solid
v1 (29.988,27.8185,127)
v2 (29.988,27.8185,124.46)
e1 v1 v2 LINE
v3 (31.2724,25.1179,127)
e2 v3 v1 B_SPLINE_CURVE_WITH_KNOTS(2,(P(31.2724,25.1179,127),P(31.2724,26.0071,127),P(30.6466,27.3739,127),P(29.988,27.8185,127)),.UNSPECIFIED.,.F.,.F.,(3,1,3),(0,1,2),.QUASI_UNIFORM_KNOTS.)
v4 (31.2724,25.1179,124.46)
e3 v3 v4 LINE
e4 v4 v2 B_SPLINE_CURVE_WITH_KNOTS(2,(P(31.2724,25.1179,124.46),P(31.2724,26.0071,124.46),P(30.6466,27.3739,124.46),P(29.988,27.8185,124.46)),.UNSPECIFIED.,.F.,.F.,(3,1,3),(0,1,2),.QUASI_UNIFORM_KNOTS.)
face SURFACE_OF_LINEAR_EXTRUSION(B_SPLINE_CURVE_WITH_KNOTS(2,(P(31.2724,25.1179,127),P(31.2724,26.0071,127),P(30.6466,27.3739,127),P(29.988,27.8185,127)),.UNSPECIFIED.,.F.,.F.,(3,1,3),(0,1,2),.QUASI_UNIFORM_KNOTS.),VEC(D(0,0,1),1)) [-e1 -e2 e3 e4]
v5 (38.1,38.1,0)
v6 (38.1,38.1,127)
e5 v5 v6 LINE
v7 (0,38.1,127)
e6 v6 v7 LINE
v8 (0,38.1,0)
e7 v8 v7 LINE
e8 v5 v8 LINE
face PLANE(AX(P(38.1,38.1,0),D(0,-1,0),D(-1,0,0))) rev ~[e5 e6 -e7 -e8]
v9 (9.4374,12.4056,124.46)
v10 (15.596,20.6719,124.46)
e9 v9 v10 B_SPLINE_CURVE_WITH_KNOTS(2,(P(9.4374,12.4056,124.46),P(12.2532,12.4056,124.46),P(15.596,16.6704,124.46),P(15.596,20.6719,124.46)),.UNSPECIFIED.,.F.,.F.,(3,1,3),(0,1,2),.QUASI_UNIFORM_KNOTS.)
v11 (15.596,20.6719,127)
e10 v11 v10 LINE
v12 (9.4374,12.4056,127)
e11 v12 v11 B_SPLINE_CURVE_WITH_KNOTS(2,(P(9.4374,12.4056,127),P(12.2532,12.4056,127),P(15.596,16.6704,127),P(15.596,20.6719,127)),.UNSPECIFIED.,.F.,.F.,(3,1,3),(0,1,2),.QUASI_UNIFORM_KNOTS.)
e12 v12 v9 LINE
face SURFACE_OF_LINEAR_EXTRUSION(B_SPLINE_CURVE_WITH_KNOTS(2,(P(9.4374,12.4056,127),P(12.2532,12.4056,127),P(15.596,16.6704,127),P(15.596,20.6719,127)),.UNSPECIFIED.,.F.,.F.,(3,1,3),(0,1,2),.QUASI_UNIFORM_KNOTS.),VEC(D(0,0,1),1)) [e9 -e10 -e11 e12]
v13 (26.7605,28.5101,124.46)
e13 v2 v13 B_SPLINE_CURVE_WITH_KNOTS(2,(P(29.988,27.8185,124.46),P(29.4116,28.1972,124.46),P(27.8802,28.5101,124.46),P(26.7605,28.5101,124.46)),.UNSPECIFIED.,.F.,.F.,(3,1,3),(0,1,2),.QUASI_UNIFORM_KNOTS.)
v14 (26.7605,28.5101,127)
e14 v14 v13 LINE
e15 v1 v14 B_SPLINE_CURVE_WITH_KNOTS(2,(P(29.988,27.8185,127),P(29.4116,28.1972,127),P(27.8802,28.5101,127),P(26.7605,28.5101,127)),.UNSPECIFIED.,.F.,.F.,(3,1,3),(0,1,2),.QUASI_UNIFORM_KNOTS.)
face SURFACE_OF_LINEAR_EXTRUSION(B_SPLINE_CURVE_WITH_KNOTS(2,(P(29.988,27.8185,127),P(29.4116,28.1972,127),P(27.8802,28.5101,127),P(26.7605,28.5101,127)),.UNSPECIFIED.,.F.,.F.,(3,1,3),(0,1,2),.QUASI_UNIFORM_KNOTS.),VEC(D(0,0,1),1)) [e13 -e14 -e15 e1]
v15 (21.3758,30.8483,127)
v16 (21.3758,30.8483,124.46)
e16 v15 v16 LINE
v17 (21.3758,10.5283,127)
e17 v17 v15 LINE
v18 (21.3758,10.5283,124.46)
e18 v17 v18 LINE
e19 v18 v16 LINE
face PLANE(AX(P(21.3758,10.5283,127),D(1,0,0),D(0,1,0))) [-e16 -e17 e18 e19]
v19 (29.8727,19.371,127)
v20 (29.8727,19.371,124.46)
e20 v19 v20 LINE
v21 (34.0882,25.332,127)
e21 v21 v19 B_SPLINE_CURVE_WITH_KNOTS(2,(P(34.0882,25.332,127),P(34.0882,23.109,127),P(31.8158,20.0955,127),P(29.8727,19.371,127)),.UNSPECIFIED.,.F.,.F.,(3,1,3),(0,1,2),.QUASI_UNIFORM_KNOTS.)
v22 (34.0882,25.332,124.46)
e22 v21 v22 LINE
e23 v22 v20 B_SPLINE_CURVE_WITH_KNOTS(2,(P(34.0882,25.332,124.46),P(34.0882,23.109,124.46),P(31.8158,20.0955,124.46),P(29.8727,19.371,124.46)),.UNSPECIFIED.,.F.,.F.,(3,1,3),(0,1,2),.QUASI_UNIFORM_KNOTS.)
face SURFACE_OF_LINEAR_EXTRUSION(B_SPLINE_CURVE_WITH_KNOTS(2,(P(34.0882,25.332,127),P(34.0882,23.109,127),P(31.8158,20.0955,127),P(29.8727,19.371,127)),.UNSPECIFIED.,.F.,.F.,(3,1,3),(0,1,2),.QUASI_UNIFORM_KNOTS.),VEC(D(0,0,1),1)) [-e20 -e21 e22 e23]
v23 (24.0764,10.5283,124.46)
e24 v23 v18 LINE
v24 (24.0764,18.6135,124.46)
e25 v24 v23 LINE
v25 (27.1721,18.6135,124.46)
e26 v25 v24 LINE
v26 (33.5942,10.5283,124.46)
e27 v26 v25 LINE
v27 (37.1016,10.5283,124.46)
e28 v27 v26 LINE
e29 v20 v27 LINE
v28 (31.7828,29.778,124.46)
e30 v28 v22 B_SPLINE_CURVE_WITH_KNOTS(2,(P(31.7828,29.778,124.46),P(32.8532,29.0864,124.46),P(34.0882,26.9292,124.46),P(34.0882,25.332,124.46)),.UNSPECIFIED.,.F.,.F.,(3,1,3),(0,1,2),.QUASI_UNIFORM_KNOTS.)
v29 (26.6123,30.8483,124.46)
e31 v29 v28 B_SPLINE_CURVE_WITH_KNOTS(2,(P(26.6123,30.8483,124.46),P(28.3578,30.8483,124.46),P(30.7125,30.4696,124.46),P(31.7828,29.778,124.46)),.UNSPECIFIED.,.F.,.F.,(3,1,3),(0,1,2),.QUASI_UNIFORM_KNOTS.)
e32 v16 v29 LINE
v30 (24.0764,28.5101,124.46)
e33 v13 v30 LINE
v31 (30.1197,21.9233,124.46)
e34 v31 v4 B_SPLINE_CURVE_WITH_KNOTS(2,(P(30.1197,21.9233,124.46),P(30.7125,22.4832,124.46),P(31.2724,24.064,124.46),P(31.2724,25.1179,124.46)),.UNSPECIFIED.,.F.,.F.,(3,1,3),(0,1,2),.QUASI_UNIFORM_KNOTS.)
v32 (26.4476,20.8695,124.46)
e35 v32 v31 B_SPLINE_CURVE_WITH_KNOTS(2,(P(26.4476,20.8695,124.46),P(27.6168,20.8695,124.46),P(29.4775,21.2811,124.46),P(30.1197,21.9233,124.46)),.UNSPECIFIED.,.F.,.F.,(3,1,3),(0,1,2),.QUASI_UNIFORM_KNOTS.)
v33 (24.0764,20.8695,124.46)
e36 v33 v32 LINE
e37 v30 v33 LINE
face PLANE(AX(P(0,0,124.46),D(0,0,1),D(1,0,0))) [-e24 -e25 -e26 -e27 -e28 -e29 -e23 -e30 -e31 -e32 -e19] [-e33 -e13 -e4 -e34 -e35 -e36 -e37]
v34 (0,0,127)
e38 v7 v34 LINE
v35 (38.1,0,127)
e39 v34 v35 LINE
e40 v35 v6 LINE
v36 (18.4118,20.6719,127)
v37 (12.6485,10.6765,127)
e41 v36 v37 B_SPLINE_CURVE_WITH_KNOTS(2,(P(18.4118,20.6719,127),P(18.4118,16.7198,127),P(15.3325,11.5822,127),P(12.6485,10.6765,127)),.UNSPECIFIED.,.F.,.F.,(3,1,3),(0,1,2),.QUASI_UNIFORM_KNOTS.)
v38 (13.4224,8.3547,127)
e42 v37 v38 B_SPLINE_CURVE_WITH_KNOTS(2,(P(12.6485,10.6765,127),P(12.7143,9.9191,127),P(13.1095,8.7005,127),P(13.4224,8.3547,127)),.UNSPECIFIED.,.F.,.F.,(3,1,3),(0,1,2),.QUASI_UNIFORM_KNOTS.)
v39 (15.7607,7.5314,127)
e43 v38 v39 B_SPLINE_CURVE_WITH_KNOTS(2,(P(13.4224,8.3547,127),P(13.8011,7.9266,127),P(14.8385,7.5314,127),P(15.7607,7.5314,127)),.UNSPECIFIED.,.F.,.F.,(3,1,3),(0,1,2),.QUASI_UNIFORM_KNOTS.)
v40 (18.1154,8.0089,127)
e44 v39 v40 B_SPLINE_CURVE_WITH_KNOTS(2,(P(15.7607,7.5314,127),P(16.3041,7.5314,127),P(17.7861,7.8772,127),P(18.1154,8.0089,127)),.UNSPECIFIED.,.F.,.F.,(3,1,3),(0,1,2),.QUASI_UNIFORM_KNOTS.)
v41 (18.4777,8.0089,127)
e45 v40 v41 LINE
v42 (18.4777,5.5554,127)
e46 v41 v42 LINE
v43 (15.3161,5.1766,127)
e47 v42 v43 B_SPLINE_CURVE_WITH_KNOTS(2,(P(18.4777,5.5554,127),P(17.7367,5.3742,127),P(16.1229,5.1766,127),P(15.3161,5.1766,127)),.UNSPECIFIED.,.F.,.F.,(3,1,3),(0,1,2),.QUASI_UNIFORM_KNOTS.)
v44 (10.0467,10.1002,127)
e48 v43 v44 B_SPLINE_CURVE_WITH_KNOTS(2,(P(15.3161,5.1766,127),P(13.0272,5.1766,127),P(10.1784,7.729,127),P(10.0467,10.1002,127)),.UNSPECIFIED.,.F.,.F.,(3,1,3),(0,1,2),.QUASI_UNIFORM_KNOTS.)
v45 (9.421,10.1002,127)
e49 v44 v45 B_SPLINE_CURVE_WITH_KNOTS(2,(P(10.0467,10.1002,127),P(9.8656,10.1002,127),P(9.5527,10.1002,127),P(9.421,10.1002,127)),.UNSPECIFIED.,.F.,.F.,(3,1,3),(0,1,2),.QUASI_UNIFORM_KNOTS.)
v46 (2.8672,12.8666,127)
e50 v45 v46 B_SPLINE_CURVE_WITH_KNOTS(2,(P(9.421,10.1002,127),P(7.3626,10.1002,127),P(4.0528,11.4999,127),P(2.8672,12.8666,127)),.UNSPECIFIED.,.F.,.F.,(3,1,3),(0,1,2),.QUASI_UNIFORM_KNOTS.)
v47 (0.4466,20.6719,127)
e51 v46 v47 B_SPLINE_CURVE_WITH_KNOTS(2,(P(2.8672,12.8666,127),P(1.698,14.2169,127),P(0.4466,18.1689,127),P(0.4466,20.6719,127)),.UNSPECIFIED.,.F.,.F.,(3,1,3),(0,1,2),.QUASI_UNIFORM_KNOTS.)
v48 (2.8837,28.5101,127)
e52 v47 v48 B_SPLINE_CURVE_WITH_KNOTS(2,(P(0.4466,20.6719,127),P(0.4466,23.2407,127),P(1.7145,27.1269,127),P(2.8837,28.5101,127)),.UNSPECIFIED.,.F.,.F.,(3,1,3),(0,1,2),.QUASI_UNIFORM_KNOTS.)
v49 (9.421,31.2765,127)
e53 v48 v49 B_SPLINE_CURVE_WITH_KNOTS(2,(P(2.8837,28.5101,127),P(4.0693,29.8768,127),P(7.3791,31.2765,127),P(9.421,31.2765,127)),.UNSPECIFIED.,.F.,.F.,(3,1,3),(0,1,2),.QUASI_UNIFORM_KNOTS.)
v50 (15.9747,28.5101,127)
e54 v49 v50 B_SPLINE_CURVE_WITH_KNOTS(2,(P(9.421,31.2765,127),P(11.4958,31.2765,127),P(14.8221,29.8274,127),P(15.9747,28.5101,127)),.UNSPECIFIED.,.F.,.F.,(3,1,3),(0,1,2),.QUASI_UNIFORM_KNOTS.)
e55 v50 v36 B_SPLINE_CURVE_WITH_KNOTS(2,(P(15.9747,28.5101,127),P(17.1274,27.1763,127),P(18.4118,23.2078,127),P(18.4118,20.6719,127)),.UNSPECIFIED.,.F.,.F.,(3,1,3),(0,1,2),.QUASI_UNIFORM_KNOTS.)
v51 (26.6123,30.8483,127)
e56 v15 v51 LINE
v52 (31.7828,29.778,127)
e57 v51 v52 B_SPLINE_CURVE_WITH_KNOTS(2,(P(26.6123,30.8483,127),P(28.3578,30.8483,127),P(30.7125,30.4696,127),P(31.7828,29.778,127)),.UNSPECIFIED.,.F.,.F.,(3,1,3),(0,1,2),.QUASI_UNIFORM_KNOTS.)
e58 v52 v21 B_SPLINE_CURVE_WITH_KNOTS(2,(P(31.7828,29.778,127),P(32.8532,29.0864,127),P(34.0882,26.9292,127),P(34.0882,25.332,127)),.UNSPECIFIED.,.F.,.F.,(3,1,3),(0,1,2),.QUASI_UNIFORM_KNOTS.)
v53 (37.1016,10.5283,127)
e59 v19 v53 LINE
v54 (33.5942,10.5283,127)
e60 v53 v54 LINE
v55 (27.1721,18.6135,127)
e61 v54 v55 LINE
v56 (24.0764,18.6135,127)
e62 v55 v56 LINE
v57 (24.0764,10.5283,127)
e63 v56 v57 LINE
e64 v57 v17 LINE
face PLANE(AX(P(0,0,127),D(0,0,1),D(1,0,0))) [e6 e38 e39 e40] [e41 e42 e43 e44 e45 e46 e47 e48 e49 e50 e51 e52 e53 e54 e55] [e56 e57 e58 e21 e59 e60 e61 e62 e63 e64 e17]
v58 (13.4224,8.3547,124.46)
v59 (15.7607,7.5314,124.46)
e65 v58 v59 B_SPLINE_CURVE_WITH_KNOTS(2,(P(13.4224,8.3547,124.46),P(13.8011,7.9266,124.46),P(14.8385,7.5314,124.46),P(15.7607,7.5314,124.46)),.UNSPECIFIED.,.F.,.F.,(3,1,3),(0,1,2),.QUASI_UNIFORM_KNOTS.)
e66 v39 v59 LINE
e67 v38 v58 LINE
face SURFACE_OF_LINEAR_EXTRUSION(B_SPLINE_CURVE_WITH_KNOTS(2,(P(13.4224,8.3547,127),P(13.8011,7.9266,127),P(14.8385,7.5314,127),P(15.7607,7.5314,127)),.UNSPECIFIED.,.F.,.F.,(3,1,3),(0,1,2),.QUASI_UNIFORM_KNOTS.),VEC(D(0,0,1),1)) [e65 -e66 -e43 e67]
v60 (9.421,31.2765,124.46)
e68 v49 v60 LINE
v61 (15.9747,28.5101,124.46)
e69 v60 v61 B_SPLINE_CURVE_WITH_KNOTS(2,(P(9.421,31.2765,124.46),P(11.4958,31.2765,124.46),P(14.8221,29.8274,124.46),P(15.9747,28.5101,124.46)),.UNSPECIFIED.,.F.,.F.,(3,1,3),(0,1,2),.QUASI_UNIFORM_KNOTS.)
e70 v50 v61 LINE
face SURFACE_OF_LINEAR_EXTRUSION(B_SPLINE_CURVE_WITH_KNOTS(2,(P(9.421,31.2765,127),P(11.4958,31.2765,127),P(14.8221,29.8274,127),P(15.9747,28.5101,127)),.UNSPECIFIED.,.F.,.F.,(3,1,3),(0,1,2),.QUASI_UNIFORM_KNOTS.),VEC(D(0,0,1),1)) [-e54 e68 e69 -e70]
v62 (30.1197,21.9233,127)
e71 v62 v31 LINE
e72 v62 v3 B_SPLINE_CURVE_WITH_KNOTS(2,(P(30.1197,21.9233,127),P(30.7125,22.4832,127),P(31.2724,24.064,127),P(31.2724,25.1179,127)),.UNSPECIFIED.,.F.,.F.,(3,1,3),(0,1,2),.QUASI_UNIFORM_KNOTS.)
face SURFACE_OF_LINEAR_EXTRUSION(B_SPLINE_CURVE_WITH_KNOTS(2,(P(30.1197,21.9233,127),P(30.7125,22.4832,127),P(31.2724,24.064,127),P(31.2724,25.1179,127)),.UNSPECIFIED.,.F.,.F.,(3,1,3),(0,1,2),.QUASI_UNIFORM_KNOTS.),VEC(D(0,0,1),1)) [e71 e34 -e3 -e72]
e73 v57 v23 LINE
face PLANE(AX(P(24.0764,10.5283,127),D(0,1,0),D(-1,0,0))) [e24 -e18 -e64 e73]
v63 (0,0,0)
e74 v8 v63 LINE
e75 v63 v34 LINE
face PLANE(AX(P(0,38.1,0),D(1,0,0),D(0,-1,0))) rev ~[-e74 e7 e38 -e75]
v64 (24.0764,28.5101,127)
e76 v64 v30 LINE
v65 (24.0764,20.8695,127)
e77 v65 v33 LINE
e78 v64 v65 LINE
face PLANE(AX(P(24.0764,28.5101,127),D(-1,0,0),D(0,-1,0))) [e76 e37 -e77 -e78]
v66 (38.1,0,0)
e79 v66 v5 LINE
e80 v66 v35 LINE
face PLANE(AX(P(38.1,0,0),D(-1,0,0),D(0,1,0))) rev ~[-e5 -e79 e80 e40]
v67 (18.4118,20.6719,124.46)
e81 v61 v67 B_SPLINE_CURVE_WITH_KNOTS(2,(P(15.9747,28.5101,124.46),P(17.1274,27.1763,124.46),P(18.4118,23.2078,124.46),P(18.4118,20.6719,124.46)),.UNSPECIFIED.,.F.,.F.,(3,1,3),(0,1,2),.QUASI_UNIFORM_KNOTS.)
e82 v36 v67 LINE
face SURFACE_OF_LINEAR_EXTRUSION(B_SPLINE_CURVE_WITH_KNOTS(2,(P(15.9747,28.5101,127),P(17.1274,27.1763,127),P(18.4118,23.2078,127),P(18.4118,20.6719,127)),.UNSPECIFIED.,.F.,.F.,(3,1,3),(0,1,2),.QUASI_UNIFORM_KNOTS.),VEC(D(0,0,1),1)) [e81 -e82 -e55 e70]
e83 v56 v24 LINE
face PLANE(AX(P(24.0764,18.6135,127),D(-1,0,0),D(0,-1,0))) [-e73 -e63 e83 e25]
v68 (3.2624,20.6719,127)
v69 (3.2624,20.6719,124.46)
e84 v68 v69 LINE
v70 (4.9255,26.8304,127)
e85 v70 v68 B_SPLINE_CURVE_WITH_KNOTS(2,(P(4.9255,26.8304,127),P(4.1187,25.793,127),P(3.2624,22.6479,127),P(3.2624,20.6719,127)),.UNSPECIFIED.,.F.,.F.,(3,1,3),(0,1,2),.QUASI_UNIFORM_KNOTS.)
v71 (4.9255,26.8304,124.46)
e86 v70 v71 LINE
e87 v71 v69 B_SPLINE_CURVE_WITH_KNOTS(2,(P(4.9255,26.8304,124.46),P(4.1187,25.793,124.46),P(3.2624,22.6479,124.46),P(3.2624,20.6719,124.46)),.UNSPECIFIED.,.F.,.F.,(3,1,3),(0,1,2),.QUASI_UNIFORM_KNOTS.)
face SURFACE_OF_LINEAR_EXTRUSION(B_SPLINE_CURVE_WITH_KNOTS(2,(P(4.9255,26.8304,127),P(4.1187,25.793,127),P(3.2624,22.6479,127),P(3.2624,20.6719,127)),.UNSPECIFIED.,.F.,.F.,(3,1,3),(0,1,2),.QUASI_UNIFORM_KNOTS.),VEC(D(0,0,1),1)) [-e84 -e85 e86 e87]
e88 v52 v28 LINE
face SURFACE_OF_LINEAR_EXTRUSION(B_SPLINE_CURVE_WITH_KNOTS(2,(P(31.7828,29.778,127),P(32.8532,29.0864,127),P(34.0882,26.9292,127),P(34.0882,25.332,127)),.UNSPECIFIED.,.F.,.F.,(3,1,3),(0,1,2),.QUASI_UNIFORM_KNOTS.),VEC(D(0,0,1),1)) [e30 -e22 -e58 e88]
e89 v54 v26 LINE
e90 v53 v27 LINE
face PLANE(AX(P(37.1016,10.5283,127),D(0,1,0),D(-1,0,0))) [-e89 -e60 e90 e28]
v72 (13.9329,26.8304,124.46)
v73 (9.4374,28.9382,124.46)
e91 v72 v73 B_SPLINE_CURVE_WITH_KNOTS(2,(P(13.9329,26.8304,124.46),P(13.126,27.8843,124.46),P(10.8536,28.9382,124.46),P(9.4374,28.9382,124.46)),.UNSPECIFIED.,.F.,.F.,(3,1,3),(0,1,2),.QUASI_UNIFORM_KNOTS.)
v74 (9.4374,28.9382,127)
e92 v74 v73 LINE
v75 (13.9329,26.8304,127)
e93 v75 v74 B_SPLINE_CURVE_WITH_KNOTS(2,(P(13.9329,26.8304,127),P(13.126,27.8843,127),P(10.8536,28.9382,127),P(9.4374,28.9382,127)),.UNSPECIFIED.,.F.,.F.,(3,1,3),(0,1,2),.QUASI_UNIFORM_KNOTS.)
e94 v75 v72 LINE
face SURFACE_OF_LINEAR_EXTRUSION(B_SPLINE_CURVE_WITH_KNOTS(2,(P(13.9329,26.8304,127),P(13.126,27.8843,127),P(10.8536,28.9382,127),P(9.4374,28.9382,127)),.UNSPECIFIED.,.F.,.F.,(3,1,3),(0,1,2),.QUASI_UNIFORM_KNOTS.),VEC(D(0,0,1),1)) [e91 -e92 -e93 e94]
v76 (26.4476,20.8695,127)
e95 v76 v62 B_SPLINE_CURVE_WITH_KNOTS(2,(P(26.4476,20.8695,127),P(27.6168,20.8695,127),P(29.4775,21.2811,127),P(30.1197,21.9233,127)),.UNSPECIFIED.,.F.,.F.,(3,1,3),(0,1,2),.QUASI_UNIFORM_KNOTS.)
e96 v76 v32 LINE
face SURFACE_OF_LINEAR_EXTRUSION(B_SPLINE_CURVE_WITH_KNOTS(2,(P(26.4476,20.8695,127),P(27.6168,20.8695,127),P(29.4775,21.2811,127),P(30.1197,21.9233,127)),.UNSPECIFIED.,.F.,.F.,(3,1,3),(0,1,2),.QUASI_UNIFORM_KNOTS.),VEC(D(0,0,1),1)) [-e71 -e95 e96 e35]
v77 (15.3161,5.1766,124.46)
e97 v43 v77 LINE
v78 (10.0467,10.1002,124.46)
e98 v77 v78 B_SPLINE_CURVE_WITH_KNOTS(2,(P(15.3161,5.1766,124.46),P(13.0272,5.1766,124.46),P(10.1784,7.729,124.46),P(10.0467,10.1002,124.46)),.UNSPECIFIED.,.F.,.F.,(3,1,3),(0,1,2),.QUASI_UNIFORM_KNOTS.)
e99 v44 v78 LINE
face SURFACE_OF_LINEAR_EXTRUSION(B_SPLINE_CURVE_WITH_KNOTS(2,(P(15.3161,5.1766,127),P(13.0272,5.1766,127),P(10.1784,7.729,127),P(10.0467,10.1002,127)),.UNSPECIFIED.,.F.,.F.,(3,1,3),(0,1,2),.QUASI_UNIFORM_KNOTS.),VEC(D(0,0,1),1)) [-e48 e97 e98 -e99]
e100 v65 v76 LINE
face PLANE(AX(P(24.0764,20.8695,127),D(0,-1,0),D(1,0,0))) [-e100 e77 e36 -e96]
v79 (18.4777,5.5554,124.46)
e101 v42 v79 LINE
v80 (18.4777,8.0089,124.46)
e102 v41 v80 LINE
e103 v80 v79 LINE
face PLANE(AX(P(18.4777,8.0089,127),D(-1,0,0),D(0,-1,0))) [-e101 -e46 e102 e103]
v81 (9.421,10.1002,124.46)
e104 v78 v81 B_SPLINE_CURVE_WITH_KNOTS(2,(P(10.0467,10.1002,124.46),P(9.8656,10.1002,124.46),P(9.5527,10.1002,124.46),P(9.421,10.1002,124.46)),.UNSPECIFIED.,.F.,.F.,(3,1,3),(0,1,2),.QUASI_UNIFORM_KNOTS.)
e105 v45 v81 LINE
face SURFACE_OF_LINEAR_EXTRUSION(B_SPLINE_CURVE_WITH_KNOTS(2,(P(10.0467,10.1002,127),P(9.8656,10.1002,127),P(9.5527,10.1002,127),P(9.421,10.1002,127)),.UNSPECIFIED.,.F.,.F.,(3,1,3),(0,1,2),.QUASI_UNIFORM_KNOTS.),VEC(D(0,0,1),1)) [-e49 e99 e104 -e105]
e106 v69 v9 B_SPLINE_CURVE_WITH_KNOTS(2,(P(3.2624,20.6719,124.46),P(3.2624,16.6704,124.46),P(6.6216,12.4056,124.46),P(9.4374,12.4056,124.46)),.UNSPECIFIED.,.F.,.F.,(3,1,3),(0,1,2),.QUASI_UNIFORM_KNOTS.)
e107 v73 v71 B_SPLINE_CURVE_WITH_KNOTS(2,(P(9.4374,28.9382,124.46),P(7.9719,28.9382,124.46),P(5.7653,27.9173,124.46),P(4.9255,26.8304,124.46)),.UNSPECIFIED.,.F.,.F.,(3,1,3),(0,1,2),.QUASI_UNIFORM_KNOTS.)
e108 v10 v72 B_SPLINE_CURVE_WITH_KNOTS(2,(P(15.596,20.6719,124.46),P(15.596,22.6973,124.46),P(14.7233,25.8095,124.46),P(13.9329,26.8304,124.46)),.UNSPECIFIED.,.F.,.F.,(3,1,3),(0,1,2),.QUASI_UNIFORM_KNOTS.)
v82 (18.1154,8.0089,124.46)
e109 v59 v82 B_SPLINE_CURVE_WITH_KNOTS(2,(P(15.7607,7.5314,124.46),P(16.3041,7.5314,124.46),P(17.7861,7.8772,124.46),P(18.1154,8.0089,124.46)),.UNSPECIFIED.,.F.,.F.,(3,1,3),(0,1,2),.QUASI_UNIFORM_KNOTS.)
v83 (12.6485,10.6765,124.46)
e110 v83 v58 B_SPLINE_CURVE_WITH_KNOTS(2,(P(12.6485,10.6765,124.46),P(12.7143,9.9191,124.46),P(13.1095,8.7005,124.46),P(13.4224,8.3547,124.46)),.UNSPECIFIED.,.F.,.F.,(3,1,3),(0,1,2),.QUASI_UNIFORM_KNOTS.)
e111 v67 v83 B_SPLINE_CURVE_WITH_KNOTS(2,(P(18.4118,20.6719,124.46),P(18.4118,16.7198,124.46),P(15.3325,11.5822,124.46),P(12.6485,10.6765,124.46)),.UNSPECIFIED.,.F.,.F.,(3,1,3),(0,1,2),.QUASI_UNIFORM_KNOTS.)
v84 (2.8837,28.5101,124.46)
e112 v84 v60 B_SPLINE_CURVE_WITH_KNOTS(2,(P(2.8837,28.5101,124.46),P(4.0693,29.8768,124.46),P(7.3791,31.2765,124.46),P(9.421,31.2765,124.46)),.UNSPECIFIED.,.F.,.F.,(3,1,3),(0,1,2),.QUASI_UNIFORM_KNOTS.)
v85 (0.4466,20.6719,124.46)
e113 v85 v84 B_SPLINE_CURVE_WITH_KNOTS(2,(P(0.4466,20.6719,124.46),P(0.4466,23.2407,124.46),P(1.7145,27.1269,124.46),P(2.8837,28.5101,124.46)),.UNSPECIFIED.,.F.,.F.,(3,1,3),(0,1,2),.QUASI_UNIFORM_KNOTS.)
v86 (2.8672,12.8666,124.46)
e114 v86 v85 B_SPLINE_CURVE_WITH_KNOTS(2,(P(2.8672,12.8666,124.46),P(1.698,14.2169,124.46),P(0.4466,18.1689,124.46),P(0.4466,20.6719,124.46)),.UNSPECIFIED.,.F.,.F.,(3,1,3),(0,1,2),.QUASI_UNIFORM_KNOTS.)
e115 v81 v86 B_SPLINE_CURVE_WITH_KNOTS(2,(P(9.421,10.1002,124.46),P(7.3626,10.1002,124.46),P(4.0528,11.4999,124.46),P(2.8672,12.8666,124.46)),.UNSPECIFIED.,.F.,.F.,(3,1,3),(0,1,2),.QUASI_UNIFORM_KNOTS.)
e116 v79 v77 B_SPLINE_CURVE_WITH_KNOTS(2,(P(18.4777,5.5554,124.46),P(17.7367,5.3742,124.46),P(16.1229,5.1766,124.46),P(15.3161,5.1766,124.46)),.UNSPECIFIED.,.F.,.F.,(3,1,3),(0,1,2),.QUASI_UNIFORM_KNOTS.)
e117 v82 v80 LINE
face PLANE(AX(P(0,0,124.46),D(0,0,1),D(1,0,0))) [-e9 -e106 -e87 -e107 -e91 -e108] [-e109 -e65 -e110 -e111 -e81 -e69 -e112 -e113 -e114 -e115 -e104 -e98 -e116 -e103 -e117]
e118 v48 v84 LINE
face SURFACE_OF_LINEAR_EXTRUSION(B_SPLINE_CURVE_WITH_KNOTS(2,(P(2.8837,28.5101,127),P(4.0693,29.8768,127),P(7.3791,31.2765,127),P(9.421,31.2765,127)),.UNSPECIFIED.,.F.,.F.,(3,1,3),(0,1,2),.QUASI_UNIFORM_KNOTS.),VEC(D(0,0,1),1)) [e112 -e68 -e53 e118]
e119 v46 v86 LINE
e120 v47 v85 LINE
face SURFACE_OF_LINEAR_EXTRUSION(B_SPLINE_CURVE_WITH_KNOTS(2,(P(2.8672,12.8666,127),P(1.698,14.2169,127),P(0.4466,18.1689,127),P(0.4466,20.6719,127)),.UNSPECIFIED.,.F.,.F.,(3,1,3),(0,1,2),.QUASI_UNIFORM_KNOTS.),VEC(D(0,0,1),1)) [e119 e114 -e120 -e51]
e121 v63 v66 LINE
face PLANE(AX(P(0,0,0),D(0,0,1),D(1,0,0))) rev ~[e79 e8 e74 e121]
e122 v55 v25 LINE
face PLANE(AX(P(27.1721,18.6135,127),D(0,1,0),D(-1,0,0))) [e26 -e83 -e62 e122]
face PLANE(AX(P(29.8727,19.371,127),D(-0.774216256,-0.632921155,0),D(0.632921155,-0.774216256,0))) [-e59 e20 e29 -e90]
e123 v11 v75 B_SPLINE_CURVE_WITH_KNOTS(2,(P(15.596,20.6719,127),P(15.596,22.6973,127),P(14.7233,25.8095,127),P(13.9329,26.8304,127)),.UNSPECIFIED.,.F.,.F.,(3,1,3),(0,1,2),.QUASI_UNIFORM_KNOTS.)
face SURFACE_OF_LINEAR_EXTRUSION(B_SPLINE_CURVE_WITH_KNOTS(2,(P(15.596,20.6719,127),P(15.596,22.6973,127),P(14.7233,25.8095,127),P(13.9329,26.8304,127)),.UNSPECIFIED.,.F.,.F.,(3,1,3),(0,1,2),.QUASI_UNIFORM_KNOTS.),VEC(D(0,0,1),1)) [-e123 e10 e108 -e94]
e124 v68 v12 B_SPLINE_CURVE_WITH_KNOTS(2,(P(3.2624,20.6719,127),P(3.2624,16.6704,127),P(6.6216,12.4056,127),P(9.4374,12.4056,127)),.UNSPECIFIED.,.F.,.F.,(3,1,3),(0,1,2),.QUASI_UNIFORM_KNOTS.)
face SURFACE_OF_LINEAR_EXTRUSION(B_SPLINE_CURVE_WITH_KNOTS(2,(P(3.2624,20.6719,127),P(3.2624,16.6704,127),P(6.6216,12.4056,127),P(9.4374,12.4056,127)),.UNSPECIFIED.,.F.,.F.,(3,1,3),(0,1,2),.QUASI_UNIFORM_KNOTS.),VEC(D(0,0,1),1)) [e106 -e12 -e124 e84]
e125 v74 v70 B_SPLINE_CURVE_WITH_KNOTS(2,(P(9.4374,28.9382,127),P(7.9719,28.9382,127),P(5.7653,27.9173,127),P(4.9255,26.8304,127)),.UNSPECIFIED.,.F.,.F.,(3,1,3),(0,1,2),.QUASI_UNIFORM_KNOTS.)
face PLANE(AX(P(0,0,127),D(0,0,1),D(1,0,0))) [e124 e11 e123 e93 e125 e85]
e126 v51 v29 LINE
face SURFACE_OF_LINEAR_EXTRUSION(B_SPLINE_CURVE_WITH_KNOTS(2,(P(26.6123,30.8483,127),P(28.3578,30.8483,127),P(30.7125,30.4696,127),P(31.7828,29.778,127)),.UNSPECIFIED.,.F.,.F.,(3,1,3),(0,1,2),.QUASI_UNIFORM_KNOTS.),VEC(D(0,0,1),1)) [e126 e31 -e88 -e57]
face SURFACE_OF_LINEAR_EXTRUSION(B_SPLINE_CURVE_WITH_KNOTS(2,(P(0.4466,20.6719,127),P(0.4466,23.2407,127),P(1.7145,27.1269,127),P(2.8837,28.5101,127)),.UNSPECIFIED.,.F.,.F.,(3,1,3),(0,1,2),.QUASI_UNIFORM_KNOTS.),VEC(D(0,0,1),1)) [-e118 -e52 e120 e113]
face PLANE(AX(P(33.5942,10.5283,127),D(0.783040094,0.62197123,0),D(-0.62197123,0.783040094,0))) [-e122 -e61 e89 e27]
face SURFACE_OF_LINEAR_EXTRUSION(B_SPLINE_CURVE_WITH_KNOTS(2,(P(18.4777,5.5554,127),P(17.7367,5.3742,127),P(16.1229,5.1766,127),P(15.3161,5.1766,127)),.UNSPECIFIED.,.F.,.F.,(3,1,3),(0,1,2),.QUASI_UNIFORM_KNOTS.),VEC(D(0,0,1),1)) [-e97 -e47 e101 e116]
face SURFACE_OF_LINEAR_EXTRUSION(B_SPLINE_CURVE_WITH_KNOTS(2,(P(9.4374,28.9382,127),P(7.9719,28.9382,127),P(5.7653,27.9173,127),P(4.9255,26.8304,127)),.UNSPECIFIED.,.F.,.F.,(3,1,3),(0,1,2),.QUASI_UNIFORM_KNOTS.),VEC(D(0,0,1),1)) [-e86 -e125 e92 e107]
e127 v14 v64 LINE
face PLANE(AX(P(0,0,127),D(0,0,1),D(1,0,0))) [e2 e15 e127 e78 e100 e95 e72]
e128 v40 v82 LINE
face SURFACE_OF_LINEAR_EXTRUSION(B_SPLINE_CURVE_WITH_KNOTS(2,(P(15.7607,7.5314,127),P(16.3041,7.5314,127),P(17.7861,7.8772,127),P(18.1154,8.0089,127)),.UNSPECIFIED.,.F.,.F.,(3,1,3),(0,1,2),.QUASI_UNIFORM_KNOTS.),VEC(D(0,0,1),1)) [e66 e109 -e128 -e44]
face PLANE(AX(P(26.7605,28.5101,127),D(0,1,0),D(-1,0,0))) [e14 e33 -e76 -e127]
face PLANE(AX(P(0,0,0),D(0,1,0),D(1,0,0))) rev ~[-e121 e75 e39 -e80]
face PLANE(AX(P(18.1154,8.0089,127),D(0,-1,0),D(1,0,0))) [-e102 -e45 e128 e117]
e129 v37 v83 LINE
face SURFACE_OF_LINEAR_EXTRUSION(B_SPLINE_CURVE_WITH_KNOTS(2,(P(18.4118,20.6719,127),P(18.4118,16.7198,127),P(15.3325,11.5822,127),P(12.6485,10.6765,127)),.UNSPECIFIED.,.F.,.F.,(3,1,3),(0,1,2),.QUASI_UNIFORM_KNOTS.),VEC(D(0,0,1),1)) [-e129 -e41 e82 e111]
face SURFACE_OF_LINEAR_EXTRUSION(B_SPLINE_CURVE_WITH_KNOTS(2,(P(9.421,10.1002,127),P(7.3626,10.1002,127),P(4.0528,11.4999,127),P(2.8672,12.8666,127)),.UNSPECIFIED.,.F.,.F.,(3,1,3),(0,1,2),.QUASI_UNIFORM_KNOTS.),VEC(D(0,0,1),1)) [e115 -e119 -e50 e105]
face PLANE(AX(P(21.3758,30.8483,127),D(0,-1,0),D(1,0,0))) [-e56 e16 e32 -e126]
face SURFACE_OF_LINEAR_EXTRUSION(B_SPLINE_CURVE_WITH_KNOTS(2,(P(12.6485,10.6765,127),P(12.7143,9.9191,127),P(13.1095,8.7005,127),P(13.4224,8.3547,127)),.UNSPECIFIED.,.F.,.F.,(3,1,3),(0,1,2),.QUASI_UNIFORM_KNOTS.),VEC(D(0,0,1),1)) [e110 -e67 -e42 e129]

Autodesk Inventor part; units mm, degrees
ref_plane "YZ Plane" through (0, 0, 0) normal (1, 0, 0) x (0, 1, 0)
ref_plane "XZ Plane" through (0, 0, 0) normal (0, 1, 0) x (-1, 0, 0)
ref_plane "XY Plane" through (0, 0, 0) normal (0, 0, 1) x (1, 0, 0)
sketch "Sketch1" plane through (0, 0, 0) normal (0, 0, 1) x (1, 0, 0)
  line L0 (0, 0) -> (38.1, 0)
  line L1 (38.1, 0) -> (38.1, 38.1)
  line L2 (38.1, 38.1) -> (0, 38.1)
  line L3 (0, 38.1) -> (0, 0)
  dimension "d0" = 38.1
  dimension "d1" = 38.1
extrude "Extrusion1" add sketch "Sketch1" along normal blind 127
sketch "Sketch2" plane through (0, 0, 127) normal (0, 0, 1) x (1, 0, 0)
  line L0 (-0.4591, 31.2765) -> (45.936, 31.2765) construction
  line L1 (45.936, 31.2765) -> (45.936, -1.3483) construction
  line L2 (45.936, -1.3483) -> (-0.4591, -1.3483) construction
  line L3 (-0.4591, -1.3483) -> (-0.4591, 31.2765) construction
  spline S0 degree 2 poles (18.4777, 5.5554) (17.7367, 5.3742) (16.1229, 5.1766) (15.3161, 5.1766) knots 0 0 0 1 2 2 2
  spline S1 degree 2 poles (15.3161, 5.1766) (13.0272, 5.1766) (10.1784, 7.729) (10.0467, 10.1002) knots 0 0 0 1 2 2 2
  spline S2 degree 2 poles (10.0467, 10.1002) (9.8656, 10.1002) (9.5527, 10.1002) (9.421, 10.1002) knots 0 0 0 1 2 2 2
  spline S3 degree 2 poles (9.421, 10.1002) (7.3626, 10.1002) (4.0528, 11.4999) (2.8672, 12.8666) knots 0 0 0 1 2 2 2
  spline S4 degree 2 poles (2.8672, 12.8666) (1.698, 14.2169) (0.4466, 18.1689) (0.4466, 20.6719) knots 0 0 0 1 2 2 2
  spline S5 degree 2 poles (0.4466, 20.6719) (0.4466, 23.2407) (1.7145, 27.1269) (2.8837, 28.5101) knots 0 0 0 1 2 2 2
  spline S6 degree 2 poles (2.8837, 28.5101) (4.0693, 29.8768) (7.3791, 31.2765) (9.421, 31.2765) knots 0 0 0 1 2 2 2
  spline S7 degree 2 poles (9.421, 31.2765) (11.4958, 31.2765) (14.8221, 29.8274) (15.9747, 28.5101) knots 0 0 0 1 2 2 2
  spline S8 degree 2 poles (15.9747, 28.5101) (17.1274, 27.1763) (18.4118, 23.2078) (18.4118, 20.6719) knots 0 0 0 1 2 2 2
  spline S9 degree 2 poles (18.4118, 20.6719) (18.4118, 16.7198) (15.3325, 11.5822) (12.6485, 10.6765) knots 0 0 0 1 2 2 2
  spline S10 degree 2 poles (12.6485, 10.6765) (12.7143, 9.9191) (13.1095, 8.7005) (13.4224, 8.3547) knots 0 0 0 1 2 2 2
  spline S11 degree 2 poles (13.4224, 8.3547) (13.8011, 7.9266) (14.8385, 7.5314) (15.7607, 7.5314) knots 0 0 0 1 2 2 2
  spline S12 degree 2 poles (15.7607, 7.5314) (16.3041, 7.5314) (17.7861, 7.8772) (18.1154, 8.0089) knots 0 0 0 1 2 2 2
  line L4 (18.1154, 8.0089) -> (18.4777, 8.0089)
  line L5 (18.4777, 8.0089) -> (18.4777, 5.5554)
  spline S13 degree 2 poles (15.596, 20.6719) (15.596, 22.6973) (14.7233, 25.8095) (13.9329, 26.8304) knots 0 0 0 1 2 2 2
  spline S14 degree 2 poles (13.9329, 26.8304) (13.126, 27.8843) (10.8536, 28.9382) (9.4374, 28.9382) knots 0 0 0 1 2 2 2
  spline S15 degree 2 poles (9.4374, 28.9382) (7.9719, 28.9382) (5.7653, 27.9173) (4.9255, 26.8304) knots 0 0 0 1 2 2 2
  spline S16 degree 2 poles (4.9255, 26.8304) (4.1187, 25.793) (3.2624, 22.6479) (3.2624, 20.6719) knots 0 0 0 1 2 2 2
  spline S17 degree 2 poles (3.2624, 20.6719) (3.2624, 16.6704) (6.6216, 12.4056) (9.4374, 12.4056) knots 0 0 0 1 2 2 2
  spline S18 degree 2 poles (9.4374, 12.4056) (12.2532, 12.4056) (15.596, 16.6704) (15.596, 20.6719) knots 0 0 0 1 2 2 2
  line L6 (37.1016, 10.5283) -> (33.5942, 10.5283)
  line L7 (33.5942, 10.5283) -> (27.1721, 18.6135)
  line L8 (27.1721, 18.6135) -> (24.0764, 18.6135)
  line L9 (24.0764, 18.6135) -> (24.0764, 10.5283)
  line L10 (24.0764, 10.5283) -> (21.3758, 10.5283)
  line L11 (21.3758, 10.5283) -> (21.3758, 30.8483)
  line L12 (21.3758, 30.8483) -> (26.6123, 30.8483)
  spline S19 degree 2 poles (26.6123, 30.8483) (28.3578, 30.8483) (30.7125, 30.4696) (31.7828, 29.778) knots 0 0 0 1 2 2 2
  spline S20 degree 2 poles (31.7828, 29.778) (32.8532, 29.0864) (34.0882, 26.9292) (34.0882, 25.332) knots 0 0 0 1 2 2 2
  spline S21 degree 2 poles (34.0882, 25.332) (34.0882, 23.109) (31.8158, 20.0955) (29.8727, 19.371) knots 0 0 0 1 2 2 2
  line L13 (29.8727, 19.371) -> (37.1016, 10.5283)
  spline S22 degree 2 poles (31.2724, 25.1179) (31.2724, 26.0071) (30.6466, 27.3739) (29.988, 27.8185) knots 0 0 0 1 2 2 2
  spline S23 degree 2 poles (29.988, 27.8185) (29.4116, 28.1972) (27.8802, 28.5101) (26.7605, 28.5101) knots 0 0 0 1 2 2 2
  line L14 (26.7605, 28.5101) -> (24.0764, 28.5101)
  line L15 (24.0764, 28.5101) -> (24.0764, 20.8695)
  line L16 (24.0764, 20.8695) -> (26.4476, 20.8695)
  spline S24 degree 2 poles (26.4476, 20.8695) (27.6168, 20.8695) (29.4775, 21.2811) (30.1197, 21.9233) knots 0 0 0 1 2 2 2
  spline S25 degree 2 poles (30.1197, 21.9233) (30.7125, 22.4832) (31.2724, 24.064) (31.2724, 25.1179) knots 0 0 0 1 2 2 2
  point P0 (0, 0)
extrude "Extrusion2" cut sketch "Sketch2" against normal blind 2.54
properties part number "Container 2 2 5 QR color 5"
